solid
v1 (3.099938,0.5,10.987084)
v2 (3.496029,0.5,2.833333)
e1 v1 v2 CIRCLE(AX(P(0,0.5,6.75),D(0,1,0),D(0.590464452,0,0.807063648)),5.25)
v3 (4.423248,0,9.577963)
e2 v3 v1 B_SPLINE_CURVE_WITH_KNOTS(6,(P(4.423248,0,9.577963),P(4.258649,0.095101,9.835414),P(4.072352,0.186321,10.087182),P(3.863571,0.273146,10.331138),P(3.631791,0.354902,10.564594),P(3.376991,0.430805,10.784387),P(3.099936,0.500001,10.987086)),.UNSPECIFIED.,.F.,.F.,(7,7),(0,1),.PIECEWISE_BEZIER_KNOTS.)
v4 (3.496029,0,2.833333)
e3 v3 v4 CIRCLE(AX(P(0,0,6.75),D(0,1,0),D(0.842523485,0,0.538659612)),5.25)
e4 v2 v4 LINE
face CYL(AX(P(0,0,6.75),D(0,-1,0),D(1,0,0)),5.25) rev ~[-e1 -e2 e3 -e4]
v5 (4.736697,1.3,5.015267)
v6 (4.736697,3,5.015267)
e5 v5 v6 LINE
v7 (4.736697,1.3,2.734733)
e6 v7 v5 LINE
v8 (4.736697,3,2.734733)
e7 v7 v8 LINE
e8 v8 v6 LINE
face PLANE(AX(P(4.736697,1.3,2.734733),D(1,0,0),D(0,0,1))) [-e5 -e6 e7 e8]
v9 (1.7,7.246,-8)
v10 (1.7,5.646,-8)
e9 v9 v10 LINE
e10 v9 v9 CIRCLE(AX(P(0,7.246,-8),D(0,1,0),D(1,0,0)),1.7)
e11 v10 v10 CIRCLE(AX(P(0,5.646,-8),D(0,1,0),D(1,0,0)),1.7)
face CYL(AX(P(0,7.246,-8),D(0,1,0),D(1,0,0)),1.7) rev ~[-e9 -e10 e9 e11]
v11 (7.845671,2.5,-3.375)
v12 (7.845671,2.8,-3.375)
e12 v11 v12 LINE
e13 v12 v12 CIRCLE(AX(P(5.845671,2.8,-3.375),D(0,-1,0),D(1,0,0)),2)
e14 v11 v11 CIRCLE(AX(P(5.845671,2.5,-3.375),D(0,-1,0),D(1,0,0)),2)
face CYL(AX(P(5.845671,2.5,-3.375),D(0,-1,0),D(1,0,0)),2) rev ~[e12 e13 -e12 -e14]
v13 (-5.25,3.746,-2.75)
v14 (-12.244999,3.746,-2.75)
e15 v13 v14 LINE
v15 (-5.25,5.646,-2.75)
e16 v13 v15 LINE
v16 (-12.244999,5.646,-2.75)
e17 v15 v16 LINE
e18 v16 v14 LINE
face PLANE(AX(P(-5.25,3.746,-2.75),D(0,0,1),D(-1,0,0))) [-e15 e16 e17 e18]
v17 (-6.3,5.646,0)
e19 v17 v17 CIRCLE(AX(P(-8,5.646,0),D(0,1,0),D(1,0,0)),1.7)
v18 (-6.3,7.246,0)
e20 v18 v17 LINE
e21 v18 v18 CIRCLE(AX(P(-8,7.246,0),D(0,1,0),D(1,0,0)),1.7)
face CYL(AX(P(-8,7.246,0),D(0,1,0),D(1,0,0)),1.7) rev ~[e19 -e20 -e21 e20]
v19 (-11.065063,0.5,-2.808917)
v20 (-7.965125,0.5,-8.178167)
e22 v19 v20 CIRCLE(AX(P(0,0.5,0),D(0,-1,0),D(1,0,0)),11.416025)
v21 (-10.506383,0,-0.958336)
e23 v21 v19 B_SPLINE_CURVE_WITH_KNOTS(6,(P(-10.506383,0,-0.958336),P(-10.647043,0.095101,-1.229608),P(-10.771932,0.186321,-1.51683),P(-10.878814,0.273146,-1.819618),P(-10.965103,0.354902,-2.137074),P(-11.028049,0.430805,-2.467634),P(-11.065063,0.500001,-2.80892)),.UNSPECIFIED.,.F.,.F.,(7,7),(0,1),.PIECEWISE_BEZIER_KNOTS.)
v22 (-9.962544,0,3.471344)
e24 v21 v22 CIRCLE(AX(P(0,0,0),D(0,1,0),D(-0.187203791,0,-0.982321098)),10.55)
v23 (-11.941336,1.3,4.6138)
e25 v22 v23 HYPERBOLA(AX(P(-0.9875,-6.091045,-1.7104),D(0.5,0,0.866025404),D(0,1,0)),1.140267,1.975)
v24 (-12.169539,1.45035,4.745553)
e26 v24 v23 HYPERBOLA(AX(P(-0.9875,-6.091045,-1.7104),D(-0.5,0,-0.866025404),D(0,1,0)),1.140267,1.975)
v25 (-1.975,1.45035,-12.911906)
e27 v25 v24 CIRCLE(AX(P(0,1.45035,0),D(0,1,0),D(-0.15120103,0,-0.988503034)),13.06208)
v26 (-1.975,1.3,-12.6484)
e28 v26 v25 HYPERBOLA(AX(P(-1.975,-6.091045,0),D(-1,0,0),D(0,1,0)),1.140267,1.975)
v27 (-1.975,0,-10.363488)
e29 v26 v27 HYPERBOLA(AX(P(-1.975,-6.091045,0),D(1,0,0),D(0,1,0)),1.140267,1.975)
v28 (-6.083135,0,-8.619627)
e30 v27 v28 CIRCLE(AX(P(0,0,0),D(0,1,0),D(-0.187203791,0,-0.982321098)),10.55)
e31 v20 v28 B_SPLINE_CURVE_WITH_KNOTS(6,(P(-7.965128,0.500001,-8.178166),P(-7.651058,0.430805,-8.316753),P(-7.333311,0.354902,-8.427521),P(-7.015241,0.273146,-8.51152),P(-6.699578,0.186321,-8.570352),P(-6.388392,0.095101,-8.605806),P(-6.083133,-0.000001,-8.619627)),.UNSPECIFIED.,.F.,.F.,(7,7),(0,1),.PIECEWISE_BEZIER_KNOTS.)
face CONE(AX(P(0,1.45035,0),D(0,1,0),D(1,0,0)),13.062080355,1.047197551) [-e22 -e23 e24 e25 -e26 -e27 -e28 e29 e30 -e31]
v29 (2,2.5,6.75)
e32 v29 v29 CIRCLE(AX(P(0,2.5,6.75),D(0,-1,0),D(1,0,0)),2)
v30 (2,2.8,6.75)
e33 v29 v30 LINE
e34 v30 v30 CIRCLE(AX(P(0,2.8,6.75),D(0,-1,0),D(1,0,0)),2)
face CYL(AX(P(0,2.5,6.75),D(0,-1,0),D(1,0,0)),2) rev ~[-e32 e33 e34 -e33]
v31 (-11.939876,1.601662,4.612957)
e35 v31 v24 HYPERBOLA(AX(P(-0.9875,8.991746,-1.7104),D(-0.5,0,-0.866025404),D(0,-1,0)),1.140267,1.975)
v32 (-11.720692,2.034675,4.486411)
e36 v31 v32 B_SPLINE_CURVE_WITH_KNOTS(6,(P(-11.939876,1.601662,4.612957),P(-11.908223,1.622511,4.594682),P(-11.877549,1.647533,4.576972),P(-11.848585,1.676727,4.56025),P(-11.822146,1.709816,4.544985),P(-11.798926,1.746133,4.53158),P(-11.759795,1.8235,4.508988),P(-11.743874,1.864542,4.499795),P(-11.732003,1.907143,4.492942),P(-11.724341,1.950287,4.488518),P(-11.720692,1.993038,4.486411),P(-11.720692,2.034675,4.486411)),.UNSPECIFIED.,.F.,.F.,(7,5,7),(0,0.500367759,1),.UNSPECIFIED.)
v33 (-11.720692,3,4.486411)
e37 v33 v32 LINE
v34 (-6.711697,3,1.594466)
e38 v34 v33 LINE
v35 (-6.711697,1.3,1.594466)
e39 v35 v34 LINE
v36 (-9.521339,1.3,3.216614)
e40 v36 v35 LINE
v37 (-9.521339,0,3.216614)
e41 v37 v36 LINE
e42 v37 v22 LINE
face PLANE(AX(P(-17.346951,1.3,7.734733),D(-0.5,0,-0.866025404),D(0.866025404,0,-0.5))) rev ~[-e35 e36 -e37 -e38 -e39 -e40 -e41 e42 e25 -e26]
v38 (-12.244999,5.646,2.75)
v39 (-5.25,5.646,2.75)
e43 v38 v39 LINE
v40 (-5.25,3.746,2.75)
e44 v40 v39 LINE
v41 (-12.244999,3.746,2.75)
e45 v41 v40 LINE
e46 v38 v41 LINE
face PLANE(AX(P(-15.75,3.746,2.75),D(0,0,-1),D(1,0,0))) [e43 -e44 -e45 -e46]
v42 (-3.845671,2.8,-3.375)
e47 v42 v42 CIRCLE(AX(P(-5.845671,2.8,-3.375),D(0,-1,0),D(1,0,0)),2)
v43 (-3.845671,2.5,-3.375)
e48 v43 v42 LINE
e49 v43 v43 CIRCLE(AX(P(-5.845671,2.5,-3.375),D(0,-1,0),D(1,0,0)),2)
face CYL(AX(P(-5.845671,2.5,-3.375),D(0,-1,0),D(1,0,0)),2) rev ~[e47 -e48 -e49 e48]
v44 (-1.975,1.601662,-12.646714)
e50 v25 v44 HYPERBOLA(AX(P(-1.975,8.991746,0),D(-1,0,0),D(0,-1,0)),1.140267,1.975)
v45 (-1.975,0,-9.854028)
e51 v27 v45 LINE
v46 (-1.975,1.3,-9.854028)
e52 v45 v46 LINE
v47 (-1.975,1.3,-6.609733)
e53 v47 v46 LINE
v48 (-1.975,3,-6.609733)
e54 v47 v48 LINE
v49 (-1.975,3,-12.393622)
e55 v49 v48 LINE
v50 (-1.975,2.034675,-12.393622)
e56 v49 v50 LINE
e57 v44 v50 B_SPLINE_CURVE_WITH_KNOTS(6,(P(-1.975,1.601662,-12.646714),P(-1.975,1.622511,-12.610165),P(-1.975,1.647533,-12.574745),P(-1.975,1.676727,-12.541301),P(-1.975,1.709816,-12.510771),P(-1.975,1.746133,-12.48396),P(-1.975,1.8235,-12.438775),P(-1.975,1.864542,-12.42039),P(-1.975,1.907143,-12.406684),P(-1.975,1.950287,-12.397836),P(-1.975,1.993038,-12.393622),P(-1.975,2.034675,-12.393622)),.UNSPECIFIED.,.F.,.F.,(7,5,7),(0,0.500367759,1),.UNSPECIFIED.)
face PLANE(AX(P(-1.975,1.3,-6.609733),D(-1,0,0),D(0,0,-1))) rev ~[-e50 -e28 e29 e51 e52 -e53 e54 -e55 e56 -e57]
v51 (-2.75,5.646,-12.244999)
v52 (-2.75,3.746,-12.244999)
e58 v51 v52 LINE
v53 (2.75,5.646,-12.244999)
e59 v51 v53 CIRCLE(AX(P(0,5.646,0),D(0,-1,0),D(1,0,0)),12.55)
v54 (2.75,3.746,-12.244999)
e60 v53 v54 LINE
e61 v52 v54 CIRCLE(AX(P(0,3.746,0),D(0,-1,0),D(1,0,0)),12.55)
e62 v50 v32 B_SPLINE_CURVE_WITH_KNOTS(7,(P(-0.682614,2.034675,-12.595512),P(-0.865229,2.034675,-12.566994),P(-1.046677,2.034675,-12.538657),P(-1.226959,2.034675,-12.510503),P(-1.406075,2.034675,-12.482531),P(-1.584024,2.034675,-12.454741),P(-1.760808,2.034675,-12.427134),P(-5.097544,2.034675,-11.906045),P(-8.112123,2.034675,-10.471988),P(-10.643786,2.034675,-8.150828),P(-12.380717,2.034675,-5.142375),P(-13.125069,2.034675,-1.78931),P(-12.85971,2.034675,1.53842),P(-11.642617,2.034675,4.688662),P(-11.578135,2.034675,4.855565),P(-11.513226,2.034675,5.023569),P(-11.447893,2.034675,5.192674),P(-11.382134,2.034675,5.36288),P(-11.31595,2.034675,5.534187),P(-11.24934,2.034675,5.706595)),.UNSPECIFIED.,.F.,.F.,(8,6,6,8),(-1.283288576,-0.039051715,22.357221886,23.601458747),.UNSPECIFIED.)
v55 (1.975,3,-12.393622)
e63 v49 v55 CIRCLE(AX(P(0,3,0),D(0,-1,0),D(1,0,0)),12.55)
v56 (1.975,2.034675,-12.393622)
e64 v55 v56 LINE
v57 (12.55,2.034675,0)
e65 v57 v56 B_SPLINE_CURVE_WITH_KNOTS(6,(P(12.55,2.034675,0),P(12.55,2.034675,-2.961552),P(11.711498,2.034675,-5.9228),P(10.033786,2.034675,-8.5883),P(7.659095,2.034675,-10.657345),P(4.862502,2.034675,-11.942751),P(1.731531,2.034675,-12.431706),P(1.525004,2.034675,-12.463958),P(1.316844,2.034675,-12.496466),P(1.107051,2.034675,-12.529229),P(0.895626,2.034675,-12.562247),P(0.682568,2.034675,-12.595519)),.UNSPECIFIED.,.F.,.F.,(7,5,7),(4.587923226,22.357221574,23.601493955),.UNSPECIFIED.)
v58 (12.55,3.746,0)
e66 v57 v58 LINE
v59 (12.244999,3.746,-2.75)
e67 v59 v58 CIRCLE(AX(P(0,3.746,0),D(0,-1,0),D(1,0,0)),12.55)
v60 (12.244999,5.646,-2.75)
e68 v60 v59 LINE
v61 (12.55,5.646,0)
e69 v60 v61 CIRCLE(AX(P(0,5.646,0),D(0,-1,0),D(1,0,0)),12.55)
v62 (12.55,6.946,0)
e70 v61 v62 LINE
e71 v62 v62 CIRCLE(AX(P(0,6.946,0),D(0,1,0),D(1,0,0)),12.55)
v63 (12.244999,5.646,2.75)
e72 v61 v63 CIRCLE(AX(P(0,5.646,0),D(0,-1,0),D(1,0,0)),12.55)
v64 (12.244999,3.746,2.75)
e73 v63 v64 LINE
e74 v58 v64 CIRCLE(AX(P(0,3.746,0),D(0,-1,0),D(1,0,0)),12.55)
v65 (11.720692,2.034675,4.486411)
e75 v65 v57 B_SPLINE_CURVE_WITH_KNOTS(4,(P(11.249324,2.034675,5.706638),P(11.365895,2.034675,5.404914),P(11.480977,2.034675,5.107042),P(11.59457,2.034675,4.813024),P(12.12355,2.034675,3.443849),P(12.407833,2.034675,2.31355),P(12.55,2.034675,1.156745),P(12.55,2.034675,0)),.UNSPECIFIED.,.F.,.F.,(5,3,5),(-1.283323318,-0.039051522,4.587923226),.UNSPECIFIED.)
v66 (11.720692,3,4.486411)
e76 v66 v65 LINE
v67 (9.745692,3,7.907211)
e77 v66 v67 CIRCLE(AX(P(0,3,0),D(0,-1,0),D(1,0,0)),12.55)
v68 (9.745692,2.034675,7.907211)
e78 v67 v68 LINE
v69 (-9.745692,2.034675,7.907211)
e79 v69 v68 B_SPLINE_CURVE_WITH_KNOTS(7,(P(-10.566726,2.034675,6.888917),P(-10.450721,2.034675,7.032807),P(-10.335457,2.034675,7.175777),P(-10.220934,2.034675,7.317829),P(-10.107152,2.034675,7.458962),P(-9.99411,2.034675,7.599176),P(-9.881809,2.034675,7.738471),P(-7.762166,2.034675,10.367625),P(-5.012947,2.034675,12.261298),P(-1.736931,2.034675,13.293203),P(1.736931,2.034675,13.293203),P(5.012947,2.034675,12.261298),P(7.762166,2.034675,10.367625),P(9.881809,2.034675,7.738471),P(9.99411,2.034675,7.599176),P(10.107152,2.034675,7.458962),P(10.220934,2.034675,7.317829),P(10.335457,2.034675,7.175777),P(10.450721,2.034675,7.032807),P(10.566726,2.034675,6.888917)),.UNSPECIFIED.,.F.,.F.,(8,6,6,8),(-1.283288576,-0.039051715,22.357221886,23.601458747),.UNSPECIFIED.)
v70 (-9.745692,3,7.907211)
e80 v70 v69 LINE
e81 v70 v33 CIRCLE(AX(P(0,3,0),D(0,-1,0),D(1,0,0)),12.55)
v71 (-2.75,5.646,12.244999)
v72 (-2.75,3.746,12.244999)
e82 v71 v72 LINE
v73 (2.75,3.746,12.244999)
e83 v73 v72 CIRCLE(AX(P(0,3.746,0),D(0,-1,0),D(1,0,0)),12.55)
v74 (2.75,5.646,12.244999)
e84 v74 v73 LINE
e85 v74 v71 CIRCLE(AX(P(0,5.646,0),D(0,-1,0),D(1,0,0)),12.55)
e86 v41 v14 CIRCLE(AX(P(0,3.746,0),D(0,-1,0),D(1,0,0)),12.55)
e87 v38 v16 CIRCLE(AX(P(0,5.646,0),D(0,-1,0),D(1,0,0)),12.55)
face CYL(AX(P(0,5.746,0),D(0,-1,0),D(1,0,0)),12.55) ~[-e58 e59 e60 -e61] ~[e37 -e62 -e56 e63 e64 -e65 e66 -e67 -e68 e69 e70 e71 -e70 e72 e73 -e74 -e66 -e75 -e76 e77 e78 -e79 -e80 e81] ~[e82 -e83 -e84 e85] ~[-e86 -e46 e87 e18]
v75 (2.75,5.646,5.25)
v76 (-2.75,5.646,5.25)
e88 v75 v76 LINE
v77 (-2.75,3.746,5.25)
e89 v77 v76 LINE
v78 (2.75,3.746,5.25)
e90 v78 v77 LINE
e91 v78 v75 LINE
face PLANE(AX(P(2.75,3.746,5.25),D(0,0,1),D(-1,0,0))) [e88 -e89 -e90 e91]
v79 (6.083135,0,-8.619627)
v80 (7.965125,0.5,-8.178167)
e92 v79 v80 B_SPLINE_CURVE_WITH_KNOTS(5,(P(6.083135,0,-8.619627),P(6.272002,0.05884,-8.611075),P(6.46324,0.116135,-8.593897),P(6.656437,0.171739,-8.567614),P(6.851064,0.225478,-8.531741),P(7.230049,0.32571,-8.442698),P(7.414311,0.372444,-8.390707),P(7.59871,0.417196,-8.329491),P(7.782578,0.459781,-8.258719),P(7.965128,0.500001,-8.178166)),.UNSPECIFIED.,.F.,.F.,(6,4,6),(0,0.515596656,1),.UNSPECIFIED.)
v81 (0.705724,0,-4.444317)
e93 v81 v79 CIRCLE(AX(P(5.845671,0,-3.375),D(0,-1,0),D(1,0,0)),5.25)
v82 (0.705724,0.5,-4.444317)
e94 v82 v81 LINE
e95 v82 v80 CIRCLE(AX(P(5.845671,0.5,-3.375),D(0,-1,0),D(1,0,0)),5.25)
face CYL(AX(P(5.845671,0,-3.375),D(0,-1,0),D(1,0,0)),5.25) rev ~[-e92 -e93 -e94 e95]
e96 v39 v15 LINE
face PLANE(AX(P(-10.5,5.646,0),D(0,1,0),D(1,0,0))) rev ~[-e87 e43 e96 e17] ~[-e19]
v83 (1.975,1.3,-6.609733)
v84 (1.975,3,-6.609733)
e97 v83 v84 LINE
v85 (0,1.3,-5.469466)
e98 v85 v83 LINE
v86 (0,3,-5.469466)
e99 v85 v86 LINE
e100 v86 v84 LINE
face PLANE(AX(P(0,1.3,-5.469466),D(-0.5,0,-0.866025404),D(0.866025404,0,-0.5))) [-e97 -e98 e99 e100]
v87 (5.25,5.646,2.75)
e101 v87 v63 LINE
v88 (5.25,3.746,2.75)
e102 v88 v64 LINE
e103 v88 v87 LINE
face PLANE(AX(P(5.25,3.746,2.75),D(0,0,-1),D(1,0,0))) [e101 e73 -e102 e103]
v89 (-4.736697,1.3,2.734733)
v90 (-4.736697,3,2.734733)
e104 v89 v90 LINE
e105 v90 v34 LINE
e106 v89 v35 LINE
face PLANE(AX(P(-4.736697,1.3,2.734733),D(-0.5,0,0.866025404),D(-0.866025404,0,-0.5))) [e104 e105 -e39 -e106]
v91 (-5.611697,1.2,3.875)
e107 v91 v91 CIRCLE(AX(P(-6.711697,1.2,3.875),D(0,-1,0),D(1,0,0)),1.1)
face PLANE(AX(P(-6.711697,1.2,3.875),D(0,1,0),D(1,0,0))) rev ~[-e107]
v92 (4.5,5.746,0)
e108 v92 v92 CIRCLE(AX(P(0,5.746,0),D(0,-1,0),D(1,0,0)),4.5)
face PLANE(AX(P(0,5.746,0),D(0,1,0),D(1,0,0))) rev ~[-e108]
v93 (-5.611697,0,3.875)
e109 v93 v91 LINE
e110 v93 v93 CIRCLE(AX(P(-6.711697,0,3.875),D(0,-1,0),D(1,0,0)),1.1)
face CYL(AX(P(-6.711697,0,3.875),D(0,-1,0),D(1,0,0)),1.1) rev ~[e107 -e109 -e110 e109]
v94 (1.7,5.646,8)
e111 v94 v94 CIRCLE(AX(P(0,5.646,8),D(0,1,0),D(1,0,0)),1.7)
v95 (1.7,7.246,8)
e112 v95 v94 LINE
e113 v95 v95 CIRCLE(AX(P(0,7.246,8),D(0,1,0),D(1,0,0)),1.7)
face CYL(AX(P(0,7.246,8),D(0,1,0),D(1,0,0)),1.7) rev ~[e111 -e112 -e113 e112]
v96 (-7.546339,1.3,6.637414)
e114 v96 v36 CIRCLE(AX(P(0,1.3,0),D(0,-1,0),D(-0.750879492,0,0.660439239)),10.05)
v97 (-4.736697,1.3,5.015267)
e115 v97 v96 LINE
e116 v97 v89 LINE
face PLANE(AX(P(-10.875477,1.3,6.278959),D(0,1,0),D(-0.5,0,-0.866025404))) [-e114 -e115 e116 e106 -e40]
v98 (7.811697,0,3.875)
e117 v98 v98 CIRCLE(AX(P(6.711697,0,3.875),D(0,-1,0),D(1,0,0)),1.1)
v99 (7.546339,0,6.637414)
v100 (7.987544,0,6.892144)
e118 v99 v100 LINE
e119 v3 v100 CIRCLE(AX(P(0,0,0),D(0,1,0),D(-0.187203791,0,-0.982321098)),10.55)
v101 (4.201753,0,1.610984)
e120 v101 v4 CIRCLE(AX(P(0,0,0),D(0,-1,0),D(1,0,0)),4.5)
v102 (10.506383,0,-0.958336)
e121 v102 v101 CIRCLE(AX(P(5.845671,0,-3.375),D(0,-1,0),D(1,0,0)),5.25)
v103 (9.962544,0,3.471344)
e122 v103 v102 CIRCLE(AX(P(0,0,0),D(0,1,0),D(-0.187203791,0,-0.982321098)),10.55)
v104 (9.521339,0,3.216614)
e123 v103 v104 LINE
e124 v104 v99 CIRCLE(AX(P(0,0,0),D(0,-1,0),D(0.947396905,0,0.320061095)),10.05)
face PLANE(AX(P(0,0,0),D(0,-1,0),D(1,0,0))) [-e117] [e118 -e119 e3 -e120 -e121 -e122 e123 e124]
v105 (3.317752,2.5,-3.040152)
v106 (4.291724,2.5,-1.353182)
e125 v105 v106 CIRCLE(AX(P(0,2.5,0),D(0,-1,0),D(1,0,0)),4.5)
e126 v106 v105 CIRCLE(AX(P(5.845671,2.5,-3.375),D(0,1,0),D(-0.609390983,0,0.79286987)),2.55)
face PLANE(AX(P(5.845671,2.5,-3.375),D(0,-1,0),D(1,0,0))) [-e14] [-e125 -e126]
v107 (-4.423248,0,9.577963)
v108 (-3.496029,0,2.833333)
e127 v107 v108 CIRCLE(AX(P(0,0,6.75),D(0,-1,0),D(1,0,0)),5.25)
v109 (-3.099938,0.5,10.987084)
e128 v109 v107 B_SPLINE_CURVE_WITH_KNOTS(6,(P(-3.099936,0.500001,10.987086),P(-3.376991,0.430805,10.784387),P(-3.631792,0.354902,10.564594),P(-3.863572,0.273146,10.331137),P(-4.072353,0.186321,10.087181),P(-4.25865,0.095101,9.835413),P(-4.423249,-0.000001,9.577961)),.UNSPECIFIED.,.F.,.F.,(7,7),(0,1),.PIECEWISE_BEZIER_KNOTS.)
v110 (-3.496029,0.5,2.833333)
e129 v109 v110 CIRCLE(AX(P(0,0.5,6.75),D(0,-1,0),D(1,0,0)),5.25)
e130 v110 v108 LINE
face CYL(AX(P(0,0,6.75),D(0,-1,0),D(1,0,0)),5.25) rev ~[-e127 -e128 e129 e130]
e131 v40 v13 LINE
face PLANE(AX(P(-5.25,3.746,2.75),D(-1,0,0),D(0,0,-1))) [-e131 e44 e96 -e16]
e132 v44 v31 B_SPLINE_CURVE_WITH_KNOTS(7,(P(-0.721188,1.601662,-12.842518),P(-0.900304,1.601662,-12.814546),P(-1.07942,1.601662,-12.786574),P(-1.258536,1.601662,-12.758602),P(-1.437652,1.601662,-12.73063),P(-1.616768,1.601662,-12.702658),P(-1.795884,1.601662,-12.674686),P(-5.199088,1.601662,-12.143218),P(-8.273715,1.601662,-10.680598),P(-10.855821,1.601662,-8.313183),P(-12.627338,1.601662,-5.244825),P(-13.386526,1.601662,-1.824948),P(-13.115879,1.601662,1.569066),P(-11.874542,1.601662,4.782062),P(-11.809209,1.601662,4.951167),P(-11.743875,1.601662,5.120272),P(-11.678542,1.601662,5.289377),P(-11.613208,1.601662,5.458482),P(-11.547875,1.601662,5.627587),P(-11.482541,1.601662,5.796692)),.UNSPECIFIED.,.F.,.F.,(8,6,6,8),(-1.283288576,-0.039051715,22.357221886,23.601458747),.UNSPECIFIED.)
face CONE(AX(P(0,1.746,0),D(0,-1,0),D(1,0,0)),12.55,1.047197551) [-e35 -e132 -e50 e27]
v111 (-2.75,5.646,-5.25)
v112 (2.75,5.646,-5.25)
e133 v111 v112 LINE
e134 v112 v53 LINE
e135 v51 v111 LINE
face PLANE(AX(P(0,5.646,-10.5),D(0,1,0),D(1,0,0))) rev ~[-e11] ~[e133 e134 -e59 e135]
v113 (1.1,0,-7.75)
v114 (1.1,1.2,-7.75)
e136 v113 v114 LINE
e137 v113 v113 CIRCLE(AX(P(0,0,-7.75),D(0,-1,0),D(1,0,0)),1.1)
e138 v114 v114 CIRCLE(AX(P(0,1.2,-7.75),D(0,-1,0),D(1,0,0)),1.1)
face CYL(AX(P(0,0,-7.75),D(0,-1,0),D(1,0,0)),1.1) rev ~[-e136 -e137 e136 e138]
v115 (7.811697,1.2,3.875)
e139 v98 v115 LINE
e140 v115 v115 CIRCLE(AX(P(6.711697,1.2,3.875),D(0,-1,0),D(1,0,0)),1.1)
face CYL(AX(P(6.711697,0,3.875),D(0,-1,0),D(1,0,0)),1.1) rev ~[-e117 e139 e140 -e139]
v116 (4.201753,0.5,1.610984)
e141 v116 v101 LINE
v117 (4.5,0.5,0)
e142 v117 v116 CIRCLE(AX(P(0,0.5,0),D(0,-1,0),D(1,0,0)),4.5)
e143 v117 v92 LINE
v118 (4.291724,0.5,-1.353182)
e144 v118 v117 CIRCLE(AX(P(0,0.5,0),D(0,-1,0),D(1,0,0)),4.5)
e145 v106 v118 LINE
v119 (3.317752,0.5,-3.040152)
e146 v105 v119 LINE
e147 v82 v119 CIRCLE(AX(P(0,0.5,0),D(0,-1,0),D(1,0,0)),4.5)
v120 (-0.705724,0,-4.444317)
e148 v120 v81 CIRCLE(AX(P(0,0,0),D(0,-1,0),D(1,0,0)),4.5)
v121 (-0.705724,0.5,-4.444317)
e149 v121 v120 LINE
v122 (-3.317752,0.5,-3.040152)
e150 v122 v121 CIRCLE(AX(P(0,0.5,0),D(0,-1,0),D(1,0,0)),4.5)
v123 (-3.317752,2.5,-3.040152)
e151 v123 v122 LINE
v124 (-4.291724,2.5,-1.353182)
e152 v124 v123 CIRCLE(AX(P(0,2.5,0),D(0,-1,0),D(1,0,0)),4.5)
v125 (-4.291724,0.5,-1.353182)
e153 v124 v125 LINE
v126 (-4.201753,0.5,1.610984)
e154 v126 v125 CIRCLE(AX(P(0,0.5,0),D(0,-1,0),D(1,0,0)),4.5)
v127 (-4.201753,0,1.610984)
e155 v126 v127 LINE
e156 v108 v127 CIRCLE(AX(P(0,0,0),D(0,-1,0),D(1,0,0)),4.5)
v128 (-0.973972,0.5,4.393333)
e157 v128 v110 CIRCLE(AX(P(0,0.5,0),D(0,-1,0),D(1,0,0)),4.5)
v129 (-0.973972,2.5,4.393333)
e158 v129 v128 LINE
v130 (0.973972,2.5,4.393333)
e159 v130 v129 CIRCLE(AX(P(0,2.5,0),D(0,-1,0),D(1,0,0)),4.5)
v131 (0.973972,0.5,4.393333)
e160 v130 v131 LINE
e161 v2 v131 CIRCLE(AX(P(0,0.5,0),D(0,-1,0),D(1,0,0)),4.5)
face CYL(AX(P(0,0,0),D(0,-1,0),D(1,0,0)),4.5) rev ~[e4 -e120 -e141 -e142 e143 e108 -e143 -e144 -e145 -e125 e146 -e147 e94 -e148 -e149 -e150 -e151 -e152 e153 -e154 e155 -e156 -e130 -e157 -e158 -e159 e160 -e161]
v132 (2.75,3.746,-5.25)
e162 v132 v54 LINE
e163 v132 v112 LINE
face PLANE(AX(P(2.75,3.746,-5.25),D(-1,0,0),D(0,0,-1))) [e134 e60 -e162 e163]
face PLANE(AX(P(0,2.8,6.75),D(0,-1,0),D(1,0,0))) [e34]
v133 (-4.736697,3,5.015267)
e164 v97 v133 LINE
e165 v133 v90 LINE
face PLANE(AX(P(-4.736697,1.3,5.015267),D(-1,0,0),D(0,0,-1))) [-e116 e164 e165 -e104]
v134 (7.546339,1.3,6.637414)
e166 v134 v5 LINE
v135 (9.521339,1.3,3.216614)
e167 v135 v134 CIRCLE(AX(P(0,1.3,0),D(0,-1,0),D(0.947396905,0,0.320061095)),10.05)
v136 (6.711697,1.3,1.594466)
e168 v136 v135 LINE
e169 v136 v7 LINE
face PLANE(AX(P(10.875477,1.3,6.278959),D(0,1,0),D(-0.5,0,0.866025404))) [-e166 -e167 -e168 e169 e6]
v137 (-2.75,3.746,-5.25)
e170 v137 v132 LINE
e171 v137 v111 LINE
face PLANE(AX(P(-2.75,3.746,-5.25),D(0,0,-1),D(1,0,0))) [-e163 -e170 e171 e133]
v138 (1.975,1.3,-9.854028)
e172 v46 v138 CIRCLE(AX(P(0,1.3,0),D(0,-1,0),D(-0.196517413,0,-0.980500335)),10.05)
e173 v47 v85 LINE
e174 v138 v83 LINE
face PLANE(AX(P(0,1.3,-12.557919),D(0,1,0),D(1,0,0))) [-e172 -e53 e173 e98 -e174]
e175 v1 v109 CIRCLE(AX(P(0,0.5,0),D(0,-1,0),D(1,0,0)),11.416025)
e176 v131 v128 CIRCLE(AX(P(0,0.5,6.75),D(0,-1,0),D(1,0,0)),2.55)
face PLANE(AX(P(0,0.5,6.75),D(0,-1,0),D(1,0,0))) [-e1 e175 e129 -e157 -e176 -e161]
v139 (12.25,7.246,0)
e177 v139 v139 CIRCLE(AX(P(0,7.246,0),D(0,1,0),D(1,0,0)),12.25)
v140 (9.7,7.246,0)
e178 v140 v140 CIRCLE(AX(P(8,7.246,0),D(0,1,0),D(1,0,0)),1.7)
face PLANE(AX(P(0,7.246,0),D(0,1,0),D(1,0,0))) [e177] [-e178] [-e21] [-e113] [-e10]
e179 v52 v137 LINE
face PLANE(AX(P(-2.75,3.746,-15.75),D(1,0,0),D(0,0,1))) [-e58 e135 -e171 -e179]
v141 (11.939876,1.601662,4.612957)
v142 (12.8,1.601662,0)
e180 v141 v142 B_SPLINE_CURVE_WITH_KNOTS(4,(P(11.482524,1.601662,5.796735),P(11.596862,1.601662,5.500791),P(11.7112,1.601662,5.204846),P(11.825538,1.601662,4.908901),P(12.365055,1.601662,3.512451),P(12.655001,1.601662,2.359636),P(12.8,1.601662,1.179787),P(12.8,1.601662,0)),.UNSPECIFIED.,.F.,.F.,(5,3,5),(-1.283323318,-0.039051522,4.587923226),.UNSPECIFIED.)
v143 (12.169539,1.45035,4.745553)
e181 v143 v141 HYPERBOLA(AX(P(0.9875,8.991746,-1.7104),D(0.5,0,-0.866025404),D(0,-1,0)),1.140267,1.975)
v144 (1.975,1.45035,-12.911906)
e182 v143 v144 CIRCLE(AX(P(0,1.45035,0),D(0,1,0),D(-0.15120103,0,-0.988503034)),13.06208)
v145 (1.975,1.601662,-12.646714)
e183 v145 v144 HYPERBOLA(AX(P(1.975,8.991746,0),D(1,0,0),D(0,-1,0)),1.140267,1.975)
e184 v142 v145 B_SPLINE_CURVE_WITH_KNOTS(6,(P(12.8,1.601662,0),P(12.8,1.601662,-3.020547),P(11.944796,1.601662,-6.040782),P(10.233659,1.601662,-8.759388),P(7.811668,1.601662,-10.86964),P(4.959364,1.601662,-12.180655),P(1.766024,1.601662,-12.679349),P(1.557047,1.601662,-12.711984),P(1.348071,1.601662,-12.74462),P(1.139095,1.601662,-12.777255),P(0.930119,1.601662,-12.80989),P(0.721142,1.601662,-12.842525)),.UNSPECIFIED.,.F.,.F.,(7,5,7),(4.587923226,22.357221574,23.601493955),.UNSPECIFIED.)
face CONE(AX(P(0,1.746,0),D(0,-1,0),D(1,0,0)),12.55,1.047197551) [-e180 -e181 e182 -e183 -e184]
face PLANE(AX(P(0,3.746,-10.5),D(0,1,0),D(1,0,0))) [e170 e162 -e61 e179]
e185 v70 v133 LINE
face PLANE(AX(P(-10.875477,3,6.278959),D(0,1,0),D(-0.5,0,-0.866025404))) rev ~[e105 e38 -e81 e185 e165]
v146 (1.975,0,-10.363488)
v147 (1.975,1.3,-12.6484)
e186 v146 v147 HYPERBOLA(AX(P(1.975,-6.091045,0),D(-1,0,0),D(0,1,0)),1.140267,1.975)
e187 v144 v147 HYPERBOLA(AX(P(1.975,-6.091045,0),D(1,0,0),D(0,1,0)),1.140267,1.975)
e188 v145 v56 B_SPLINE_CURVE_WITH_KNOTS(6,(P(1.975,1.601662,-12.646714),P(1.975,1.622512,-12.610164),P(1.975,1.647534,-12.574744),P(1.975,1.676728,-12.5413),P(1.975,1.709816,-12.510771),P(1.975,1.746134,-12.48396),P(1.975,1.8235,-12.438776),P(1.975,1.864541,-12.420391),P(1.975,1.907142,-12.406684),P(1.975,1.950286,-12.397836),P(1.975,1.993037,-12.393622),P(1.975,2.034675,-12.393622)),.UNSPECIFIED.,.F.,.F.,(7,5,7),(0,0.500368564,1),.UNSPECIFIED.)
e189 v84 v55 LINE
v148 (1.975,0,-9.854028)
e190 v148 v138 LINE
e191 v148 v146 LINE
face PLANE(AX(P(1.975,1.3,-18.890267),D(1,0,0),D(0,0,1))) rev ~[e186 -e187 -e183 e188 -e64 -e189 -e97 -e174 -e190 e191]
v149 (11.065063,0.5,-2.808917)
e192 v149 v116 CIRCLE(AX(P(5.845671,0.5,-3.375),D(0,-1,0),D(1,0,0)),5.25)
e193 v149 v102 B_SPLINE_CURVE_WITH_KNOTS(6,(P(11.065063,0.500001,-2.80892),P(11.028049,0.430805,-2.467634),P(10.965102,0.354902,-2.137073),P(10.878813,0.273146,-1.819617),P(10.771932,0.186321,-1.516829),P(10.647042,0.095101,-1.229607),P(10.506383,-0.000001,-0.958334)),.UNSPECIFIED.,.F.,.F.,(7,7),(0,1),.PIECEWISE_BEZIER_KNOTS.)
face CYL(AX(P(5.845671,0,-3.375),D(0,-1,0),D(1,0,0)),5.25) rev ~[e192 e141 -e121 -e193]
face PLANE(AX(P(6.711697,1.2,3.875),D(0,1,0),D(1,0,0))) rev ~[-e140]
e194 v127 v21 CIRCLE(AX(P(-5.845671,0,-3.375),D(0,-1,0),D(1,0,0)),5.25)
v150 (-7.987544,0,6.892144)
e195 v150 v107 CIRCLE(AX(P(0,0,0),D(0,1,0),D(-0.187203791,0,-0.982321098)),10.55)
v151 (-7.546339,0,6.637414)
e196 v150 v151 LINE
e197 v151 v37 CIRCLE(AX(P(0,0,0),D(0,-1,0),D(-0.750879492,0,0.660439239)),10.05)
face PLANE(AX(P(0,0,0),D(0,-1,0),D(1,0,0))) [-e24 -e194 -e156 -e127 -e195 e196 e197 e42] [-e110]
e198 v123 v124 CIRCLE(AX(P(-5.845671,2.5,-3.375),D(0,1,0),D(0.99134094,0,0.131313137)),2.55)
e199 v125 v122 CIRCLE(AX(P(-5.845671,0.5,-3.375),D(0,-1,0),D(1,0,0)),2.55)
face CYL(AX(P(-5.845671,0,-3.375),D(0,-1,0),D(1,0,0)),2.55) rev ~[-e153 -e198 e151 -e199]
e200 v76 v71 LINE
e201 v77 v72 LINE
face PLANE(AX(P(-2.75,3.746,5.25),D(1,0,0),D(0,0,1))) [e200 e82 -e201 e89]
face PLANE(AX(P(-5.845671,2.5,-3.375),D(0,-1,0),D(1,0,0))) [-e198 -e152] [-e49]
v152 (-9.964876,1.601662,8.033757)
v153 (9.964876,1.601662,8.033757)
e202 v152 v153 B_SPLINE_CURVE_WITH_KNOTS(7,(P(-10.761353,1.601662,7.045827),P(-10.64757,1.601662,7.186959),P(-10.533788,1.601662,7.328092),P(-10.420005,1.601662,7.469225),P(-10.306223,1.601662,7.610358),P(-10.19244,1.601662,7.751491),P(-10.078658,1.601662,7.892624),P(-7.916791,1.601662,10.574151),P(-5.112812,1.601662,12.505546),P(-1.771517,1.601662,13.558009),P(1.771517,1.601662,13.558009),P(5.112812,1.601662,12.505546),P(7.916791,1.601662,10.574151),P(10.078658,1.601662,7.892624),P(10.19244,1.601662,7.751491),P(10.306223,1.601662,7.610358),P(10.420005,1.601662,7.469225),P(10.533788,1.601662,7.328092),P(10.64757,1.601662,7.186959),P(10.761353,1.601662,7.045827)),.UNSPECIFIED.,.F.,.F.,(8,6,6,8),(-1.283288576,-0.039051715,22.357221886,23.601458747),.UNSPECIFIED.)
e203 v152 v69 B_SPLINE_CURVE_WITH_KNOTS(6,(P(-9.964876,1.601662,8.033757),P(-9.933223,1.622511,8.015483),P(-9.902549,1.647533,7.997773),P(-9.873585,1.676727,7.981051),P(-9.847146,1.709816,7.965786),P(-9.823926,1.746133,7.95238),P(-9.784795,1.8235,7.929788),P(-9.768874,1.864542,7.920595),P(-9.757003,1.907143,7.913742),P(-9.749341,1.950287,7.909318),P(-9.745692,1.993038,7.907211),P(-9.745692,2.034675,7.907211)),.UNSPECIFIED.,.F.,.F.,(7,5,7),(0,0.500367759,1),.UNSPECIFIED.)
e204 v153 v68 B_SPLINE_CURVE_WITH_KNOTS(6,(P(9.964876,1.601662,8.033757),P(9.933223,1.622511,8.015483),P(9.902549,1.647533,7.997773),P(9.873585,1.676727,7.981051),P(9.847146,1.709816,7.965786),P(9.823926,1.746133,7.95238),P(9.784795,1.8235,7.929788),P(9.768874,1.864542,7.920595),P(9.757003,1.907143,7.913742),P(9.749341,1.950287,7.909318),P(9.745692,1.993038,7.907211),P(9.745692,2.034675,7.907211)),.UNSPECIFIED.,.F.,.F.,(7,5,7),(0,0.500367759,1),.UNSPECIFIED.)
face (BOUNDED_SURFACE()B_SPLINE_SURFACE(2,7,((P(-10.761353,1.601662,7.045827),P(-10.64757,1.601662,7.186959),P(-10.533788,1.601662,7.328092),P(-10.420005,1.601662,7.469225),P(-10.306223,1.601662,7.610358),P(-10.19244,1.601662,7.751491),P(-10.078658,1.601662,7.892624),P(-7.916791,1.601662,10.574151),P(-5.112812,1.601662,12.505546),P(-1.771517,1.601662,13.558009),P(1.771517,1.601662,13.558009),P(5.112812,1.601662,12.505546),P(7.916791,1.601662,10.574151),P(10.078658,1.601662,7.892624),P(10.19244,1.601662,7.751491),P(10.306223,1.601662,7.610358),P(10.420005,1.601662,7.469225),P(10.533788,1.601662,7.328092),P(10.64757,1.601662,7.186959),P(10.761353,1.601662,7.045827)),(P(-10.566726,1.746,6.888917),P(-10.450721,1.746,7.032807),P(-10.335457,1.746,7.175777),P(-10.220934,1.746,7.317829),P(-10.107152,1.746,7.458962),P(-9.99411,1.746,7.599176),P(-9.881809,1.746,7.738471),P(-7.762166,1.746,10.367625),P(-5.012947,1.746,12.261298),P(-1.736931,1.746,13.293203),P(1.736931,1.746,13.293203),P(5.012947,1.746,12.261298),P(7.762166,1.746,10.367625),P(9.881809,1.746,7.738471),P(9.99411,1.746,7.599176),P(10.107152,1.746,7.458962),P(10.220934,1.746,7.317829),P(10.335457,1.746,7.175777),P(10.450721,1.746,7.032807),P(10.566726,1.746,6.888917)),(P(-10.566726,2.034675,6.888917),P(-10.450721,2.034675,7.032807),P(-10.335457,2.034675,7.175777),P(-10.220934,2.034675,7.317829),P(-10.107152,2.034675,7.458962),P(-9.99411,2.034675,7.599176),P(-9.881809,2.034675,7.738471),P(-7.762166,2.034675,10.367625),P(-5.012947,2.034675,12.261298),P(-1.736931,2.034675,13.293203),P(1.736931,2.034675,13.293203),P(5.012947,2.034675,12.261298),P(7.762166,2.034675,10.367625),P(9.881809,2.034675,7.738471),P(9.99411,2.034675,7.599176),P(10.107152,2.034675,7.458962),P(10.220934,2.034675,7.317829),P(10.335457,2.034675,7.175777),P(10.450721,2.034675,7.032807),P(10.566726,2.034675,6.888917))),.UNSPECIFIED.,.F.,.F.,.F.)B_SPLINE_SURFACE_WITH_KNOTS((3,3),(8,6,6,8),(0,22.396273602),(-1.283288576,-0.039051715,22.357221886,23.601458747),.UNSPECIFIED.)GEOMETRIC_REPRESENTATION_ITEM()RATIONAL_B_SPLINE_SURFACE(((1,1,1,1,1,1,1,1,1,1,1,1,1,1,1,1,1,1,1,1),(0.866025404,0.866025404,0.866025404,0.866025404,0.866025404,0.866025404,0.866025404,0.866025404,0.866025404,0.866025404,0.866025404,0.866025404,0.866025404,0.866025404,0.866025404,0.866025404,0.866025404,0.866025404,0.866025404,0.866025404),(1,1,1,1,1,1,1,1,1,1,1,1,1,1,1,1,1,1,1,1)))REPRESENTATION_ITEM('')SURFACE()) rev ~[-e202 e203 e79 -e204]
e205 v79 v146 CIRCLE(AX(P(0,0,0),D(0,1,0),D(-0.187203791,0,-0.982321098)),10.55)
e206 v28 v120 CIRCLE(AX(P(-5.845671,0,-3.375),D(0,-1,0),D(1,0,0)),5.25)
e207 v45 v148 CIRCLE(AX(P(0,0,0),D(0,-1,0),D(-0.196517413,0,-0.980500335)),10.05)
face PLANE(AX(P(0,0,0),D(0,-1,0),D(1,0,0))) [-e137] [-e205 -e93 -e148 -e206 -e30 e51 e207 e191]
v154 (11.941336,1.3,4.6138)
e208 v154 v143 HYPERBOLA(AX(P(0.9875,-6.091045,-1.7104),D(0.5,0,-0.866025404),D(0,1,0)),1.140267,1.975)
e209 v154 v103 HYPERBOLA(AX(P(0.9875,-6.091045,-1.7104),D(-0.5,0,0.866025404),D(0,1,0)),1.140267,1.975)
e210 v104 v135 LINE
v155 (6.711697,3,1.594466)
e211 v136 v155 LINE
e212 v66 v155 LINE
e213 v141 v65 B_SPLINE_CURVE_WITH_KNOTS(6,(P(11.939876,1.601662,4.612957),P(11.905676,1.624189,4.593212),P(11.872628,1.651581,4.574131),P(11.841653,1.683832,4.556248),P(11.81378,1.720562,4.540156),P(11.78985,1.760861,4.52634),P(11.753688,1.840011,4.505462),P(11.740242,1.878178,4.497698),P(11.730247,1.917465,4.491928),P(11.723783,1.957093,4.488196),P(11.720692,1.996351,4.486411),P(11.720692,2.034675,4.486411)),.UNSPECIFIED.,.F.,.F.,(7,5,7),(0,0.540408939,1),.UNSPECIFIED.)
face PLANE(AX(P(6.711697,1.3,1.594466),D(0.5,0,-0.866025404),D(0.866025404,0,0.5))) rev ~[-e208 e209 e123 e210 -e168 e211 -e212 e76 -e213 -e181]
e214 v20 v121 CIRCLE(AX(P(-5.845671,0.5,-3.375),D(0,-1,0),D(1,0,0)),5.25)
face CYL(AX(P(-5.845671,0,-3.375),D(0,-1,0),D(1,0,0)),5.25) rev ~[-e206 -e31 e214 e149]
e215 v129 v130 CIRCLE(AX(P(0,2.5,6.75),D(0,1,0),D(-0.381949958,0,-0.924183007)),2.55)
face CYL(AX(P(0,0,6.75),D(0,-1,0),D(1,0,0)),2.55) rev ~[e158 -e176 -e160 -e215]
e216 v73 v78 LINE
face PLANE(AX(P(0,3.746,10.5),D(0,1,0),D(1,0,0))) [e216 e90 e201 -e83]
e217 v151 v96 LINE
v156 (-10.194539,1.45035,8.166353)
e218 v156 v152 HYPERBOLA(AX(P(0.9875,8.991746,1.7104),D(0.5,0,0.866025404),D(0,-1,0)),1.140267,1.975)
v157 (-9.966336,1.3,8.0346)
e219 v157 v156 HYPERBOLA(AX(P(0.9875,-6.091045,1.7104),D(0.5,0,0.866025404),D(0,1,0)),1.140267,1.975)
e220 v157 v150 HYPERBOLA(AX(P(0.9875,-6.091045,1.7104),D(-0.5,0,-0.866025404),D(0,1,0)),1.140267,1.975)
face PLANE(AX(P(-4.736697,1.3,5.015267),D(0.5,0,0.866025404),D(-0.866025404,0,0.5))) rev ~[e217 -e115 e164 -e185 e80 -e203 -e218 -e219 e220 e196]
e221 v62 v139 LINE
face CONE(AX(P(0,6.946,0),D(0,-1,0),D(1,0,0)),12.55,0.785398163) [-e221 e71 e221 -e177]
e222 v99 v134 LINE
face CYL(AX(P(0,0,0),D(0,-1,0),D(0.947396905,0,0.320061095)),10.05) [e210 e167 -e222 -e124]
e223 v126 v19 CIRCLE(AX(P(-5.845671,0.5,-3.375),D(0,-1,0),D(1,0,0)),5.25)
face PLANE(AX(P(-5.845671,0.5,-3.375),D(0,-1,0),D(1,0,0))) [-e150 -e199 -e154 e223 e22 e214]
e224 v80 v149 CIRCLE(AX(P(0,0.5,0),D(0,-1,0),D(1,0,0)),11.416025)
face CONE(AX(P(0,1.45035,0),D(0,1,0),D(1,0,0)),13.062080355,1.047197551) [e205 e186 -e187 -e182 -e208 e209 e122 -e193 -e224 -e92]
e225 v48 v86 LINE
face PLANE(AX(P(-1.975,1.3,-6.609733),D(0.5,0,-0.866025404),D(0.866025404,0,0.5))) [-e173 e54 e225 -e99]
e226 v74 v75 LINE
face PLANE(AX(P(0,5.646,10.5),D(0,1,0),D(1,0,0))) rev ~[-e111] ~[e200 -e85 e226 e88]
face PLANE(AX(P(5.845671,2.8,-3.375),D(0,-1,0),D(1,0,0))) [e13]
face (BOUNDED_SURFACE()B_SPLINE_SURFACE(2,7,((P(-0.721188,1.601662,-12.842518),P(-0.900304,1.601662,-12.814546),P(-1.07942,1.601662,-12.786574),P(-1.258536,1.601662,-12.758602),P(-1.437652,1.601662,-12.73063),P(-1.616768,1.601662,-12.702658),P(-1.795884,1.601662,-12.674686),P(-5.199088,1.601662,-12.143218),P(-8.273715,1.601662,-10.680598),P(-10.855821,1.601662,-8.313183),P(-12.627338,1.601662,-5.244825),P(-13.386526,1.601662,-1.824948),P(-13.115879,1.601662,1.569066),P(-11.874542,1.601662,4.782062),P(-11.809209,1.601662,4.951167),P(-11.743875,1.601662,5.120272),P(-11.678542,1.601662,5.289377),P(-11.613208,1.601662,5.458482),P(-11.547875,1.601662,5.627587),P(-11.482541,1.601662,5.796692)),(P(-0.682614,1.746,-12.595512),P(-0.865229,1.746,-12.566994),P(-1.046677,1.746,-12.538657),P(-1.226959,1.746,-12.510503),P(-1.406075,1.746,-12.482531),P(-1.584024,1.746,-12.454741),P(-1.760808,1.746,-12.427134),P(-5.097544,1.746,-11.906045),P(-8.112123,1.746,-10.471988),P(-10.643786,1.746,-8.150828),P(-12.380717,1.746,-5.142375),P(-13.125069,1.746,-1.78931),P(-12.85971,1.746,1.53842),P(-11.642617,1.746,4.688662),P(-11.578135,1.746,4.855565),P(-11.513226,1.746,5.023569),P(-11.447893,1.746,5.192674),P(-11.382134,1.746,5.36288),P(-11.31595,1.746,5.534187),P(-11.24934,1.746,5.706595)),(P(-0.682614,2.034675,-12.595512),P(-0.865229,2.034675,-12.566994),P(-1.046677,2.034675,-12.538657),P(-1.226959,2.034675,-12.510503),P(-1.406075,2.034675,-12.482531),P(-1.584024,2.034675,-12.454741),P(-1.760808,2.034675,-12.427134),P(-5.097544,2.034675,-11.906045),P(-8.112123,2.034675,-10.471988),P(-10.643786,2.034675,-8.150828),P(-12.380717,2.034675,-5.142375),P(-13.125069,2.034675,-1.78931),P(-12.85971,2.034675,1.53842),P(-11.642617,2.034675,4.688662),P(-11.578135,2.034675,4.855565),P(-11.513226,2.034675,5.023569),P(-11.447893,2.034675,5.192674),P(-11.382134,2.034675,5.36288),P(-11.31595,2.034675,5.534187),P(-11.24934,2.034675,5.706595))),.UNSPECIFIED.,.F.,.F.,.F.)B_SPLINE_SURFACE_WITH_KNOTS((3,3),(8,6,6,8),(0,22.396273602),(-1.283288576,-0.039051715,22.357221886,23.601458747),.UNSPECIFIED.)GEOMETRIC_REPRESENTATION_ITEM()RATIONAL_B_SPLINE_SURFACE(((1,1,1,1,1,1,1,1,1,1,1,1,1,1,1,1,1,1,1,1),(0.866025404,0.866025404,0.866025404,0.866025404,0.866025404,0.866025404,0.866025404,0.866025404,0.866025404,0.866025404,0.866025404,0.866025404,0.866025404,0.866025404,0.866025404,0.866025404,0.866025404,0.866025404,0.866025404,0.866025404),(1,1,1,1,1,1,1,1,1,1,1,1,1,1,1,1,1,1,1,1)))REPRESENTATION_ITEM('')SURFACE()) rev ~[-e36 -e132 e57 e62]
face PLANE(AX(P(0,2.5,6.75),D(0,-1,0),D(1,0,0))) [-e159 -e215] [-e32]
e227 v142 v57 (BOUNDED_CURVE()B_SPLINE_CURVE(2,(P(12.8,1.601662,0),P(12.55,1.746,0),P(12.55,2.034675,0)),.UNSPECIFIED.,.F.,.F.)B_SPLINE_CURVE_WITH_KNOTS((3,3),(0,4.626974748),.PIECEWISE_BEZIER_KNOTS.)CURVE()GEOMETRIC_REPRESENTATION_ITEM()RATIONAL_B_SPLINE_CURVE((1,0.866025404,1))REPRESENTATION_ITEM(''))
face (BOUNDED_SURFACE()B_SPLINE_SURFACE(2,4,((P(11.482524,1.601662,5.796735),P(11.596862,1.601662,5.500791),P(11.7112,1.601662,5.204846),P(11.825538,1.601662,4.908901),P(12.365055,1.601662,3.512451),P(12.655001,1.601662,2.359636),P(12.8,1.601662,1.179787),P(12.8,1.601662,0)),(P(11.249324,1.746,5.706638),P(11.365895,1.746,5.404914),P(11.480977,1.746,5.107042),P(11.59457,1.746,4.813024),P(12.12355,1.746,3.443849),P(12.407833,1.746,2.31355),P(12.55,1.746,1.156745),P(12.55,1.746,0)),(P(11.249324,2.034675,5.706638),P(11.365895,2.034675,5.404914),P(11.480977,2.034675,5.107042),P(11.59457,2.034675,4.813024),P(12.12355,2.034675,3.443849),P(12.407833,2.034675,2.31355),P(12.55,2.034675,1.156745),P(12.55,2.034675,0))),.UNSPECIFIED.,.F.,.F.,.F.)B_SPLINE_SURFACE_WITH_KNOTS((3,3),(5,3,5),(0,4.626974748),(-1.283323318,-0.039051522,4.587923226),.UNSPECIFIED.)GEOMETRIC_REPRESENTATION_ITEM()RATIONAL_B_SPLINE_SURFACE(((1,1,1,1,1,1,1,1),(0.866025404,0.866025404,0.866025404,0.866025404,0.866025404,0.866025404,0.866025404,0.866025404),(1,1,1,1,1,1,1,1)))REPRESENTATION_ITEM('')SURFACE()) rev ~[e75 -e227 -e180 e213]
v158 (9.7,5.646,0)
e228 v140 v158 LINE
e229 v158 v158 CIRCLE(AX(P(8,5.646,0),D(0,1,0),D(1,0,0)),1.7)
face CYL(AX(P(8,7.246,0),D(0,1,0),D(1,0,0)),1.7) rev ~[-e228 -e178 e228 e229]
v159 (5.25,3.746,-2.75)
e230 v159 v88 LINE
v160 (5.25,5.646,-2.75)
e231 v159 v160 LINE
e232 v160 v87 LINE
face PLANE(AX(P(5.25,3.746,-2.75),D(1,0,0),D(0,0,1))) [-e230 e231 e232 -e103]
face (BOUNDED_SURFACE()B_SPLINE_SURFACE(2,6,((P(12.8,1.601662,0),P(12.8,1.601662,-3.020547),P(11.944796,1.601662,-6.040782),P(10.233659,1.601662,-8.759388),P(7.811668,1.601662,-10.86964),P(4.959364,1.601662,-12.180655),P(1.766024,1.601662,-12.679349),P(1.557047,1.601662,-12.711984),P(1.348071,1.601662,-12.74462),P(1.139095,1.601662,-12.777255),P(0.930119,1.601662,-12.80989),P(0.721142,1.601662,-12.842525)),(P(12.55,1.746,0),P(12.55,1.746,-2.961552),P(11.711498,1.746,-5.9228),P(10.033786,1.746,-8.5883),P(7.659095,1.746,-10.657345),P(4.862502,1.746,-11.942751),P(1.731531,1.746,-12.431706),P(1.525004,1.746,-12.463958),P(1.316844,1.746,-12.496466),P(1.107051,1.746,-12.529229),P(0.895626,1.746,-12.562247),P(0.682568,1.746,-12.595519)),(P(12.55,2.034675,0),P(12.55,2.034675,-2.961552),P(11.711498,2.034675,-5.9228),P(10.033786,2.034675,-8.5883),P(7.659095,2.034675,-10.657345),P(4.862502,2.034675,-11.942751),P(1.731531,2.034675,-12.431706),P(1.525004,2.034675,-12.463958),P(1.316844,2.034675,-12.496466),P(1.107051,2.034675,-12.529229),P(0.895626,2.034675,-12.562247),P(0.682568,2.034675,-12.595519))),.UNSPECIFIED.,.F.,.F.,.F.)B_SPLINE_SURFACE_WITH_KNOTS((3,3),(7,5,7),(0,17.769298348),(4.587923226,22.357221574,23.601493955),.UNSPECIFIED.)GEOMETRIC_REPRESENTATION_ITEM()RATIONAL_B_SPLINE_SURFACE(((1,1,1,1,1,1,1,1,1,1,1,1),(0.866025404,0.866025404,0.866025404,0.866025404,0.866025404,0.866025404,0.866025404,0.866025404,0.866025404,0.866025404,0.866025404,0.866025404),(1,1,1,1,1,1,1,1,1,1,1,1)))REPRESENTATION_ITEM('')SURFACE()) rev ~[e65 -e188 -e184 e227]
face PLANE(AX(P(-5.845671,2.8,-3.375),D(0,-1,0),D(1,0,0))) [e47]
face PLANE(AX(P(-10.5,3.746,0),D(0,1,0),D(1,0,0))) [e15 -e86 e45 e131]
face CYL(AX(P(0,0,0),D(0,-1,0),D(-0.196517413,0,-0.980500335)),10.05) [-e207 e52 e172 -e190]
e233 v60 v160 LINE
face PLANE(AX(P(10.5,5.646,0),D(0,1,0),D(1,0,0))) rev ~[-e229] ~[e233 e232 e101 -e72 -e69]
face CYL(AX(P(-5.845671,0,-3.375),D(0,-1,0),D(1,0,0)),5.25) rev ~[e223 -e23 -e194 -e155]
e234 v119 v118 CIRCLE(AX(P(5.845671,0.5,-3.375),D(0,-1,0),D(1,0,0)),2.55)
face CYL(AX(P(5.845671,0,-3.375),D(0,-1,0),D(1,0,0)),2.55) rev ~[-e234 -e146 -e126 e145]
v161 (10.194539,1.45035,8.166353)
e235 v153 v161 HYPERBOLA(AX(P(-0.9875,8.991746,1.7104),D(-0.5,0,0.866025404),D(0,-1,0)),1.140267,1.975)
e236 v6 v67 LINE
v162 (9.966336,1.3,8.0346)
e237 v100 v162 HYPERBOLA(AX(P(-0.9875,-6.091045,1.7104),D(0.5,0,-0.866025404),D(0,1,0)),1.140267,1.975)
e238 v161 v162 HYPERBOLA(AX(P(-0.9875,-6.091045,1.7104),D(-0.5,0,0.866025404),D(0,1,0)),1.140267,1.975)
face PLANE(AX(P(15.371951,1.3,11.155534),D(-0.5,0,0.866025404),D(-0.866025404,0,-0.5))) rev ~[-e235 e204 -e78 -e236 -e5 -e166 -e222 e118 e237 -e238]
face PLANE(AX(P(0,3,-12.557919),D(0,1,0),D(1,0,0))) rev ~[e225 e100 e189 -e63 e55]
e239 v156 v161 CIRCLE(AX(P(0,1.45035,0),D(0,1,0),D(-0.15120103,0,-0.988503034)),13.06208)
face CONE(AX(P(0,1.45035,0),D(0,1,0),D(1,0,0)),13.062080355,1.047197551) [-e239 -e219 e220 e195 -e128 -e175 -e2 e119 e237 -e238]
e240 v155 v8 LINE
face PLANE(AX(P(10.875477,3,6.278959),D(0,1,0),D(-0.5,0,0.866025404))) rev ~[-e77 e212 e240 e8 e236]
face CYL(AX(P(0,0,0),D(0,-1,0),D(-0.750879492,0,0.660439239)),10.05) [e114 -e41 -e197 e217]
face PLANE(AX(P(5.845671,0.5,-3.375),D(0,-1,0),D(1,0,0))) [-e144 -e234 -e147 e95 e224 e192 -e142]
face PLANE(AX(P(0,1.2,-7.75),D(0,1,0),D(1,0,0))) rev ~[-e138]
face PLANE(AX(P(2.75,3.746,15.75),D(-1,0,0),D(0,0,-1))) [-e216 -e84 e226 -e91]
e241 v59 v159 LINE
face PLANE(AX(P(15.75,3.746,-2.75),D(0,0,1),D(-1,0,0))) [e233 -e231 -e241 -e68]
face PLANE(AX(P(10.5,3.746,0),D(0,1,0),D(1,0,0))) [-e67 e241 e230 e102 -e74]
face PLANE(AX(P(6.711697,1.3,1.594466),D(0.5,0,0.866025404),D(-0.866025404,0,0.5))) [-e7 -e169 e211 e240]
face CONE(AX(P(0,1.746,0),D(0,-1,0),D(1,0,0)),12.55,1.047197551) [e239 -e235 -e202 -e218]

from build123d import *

# Parameters (mm, degrees)
SKETCH1_R           = 10.05
BOSS_EXTRUDE1_DEPTH = 1.746
SKETCH2_R           = 12.55
BOSS_EXTRUDE2_DEPTH = 4
SKETCH3_R           = 4.5
CUT_EXTRUDE1_DEPTH  = 6.746
SKETCH4_R           = 2.55
CUT_EXTRUDE2_DEPTH  = 2.5
SKETCH5_R           = 2
CUT_EXTRUDE3_DEPTH  = 0.3
CHAMFER1_SIZE       = 0.3
SKETCH6_R           = 1.1
CUT_EXTRUDE4_DEPTH  = 2.5
CUT_EXTRUDE5_DEPTH  = 1.7
CUT_EXTRUDE6_DEPTH  = 3
CIRPATTERN1_COUNT   = 3
FILLET1_R           = 0.5
SKETCH12_R          = 12.55
BOSS_EXTRUDE3_DEPTH = 1.5
SKETCH13_R          = 1.7
CUT_EXTRUDE7_DEPTH  = 3.5
CUT_EXTRUDE9_DEPTH  = 1.9
CHAMFER2_SIZE       = 0.3
SKETCH16_R          = 5.25
CUT_EXTRUDE10_DEPTH = 0.5
SKETCH18_R          = 1.2
BOSS_EXTRUDE4_DEPTH = 0.1


with BuildPart() as part:
    # Sketch1 → Boss-Extrude1 (new body)
    with BuildSketch(Plane(origin=(0, 0, 0), x_dir=(1, 0, 0), z_dir=(0, 1, 0))):
        Circle(SKETCH1_R)
    extrude(amount=BOSS_EXTRUDE1_DEPTH)

    # Sketch2 → Boss-Extrude2 (add)
    with BuildSketch(Plane(origin=(0, 1.746, 0), x_dir=(1, 0, 0), z_dir=(0, 1, 0))):
        Circle(SKETCH2_R)
    extrude(amount=BOSS_EXTRUDE2_DEPTH)

    # Sketch3 → Cut-Extrude1 (cut, through all)
    with BuildSketch(Plane.XZ):
        Circle(SKETCH3_R)
    extrude(amount=-CUT_EXTRUDE1_DEPTH, mode=Mode.SUBTRACT)

    # Sketch4 → Cut-Extrude2 (cut)
    with BuildSketch(Plane.XZ):
        with Locations((0, 6.75)):
            Circle(SKETCH4_R)
        with Locations((5.845671476, -3.375)):
            Circle(SKETCH4_R)
        with Locations((-5.845671476, -3.375)):
            Circle(SKETCH4_R)
    extrude(amount=-CUT_EXTRUDE2_DEPTH, mode=Mode.SUBTRACT)

    # Sketch5 → Cut-Extrude3 (cut)
    with BuildSketch(Plane.XZ.offset(-2.5)):
        with Locations((0, 6.75)):
            Circle(SKETCH5_R)
        with Locations((-5.845671476, -3.375)):
            Circle(SKETCH5_R)
        with Locations((5.845671476, -3.375)):
            Circle(SKETCH5_R)
    extrude(amount=-CUT_EXTRUDE3_DEPTH, mode=Mode.SUBTRACT)

    # Chamfer1
    chamfer1_edges = [part.edges().sort_by_distance(p)[0] for p in [
        (0, 0, 9.3),
        (8.054036255, 0, -4.65),
        (-8.054036255, 0, -4.65),
    ]]
    chamfer(chamfer1_edges, length=CHAMFER1_SIZE)

    # Sketch6 → Cut-Extrude4 (cut)
    with BuildSketch(Plane.XZ):
        with Locations((6.711696879, 3.875)):
            Circle(SKETCH6_R)
        with Locations((0, -7.75)):
            Circle(SKETCH6_R)
        with Locations((-6.711696879, 3.875)):
            Circle(SKETCH6_R)
    extrude(amount=-CUT_EXTRUDE4_DEPTH, mode=Mode.SUBTRACT)

    # Sketch10 → Revolve1 (revolve)
    with BuildSketch(Plane.XY):
        Polygon((10.05, 0), (10.05, 1.746), (12.55, 1.746), (13.062080355, 1.450350269), (10.55, 0), align=None)
    revolve(axis=Axis((0, 5.746, 0), (0, -1, 0)))

    # Sketch7 → Cut-Extrude5 (cut)
    with BuildSketch(Plane(origin=(0, 1.3, 0), x_dir=(-1, 0, 0), z_dir=(0, -1, 0))):
        Polygon((-1.975, 8.890266782), (-1.975, 18.890266782), (1.975, 18.890266782), (1.975, 8.890266782), (1.975, 6.609733218), (0, 5.469466437), (-1.975, 6.609733218), align=None)
    cut_extrude5 = extrude(amount=-CUT_EXTRUDE5_DEPTH, mode=Mode.SUBTRACT)

    # Sketch11 → Cut-Extrude6 (cut)
    with BuildSketch(Plane.XZ):
        with BuildLine():
            Line((-1.975, -19.854028364), (-1.975, -9.854028364))
            ThreePointArc((-1.975, -9.854028364), (0, -10.05), (1.975, -9.854028364))
            Line((1.975, -9.854028364), (1.975, -19.854028364))
            ThreePointArc((1.975, -19.854028364), (0, -19.952019128), (-1.975, -19.854028364))
        make_face()
    cut_extrude6 = extrude(amount=-CUT_EXTRUDE6_DEPTH, mode=Mode.SUBTRACT)

    # CirPattern1: Cut-Extrude5, Cut-Extrude6 ×3 about axis
    cirpattern1_axis = Axis((0, 0, 0), (0, 1, 0))
    for i in range(1, CIRPATTERN1_COUNT):
        add(cut_extrude5.rotate(cirpattern1_axis, i * 360 / CIRPATTERN1_COUNT), mode=Mode.SUBTRACT)
        add(cut_extrude6.rotate(cirpattern1_axis, i * 360 / CIRPATTERN1_COUNT), mode=Mode.SUBTRACT)

    # Fillet1
    fillet1_edges = [part.edges().sort_by_distance(p)[0] for p in [
        (0, 1.746, 12.55),
        (9.546956321, 1.746, -8.146049656),
        (-10.868618817, 1.746, -6.275),
    ]]
    fillet(fillet1_edges, radius=FILLET1_R)

    # Sketch12 → Boss-Extrude3 (add)
    with BuildSketch(Plane(origin=(0, 5.746, 0), x_dir=(1, 0, 0), z_dir=(0, 1, 0))):
        Circle(SKETCH12_R)
    extrude(amount=BOSS_EXTRUDE3_DEPTH)

    # Sketch13 → Cut-Extrude7 (cut)
    with BuildSketch(Plane(origin=(0, 7.246, 0), x_dir=(1, 0, 0), z_dir=(0, 1, 0))):
        with Locations((0, -8)):
            Circle(SKETCH13_R)
        with Locations((-8, 0)):
            Circle(SKETCH13_R)
        with Locations((0, 8)):
            Circle(SKETCH13_R)
        with Locations((8, 0)):
            Circle(SKETCH13_R)
    extrude(amount=-CUT_EXTRUDE7_DEPTH, mode=Mode.SUBTRACT)

    # Sketch15 → Cut-Extrude9 (cut)
    with BuildSketch(Plane(origin=(0, 3.746, 0), x_dir=(1, 0, 0), z_dir=(0, 1, 0))):
        Polygon((-2.75, -10.75), (-2.75, -15.75), (2.75, -15.75), (2.75, -10.75), (2.75, -5.25), (-2.75, -5.25), align=None)
        Polygon((-15.75, -2.75), (-10.75, -2.75), (-5.25, -2.75), (-5.25, 2.75), (-10.75, 2.75), (-15.75, 2.75), align=None)
        Polygon((-2.75, 15.75), (-2.75, 10.75), (-2.75, 5.25), (2.75, 5.25), (2.75, 10.75), (2.75, 15.75), align=None)
        Polygon((15.75, 2.75), (10.75, 2.75), (5.25, 2.75), (5.25, -2.75), (10.75, -2.75), (15.75, -2.75), align=None)
    extrude(amount=CUT_EXTRUDE9_DEPTH, mode=Mode.SUBTRACT)

    # Chamfer2
    chamfer2_edges = [part.edges().sort_by_distance(p)[0] for p in [
        (-12.55, 7.246, 0),
    ]]
    chamfer(chamfer2_edges, length=CHAMFER2_SIZE)

    # Sketch16 → Cut-Extrude10 (cut)
    with BuildSketch(Plane.XZ):
        with Locations((0, 6.75)):
            Circle(SKETCH16_R)
        with Locations((-5.845671476, -3.375)):
            Circle(SKETCH16_R)
        with Locations((5.845671476, -3.375)):
            Circle(SKETCH16_R)
    extrude(amount=-CUT_EXTRUDE10_DEPTH, mode=Mode.SUBTRACT)

    # Sketch18 → Boss-Extrude4 (add)
    with BuildSketch(Plane(origin=(0, 1.3, 0), x_dir=(1, 0, 0), z_dir=(0, 1, 0))):
        with Locations((6.711696879, -3.875)):
            Circle(SKETCH18_R)
        with Locations((0, 7.75)):
            Circle(SKETCH18_R)
        with Locations((-6.711696879, -3.875)):
            Circle(SKETCH18_R)
    extrude(amount=-BOSS_EXTRUDE4_DEPTH)


solid = part.part
